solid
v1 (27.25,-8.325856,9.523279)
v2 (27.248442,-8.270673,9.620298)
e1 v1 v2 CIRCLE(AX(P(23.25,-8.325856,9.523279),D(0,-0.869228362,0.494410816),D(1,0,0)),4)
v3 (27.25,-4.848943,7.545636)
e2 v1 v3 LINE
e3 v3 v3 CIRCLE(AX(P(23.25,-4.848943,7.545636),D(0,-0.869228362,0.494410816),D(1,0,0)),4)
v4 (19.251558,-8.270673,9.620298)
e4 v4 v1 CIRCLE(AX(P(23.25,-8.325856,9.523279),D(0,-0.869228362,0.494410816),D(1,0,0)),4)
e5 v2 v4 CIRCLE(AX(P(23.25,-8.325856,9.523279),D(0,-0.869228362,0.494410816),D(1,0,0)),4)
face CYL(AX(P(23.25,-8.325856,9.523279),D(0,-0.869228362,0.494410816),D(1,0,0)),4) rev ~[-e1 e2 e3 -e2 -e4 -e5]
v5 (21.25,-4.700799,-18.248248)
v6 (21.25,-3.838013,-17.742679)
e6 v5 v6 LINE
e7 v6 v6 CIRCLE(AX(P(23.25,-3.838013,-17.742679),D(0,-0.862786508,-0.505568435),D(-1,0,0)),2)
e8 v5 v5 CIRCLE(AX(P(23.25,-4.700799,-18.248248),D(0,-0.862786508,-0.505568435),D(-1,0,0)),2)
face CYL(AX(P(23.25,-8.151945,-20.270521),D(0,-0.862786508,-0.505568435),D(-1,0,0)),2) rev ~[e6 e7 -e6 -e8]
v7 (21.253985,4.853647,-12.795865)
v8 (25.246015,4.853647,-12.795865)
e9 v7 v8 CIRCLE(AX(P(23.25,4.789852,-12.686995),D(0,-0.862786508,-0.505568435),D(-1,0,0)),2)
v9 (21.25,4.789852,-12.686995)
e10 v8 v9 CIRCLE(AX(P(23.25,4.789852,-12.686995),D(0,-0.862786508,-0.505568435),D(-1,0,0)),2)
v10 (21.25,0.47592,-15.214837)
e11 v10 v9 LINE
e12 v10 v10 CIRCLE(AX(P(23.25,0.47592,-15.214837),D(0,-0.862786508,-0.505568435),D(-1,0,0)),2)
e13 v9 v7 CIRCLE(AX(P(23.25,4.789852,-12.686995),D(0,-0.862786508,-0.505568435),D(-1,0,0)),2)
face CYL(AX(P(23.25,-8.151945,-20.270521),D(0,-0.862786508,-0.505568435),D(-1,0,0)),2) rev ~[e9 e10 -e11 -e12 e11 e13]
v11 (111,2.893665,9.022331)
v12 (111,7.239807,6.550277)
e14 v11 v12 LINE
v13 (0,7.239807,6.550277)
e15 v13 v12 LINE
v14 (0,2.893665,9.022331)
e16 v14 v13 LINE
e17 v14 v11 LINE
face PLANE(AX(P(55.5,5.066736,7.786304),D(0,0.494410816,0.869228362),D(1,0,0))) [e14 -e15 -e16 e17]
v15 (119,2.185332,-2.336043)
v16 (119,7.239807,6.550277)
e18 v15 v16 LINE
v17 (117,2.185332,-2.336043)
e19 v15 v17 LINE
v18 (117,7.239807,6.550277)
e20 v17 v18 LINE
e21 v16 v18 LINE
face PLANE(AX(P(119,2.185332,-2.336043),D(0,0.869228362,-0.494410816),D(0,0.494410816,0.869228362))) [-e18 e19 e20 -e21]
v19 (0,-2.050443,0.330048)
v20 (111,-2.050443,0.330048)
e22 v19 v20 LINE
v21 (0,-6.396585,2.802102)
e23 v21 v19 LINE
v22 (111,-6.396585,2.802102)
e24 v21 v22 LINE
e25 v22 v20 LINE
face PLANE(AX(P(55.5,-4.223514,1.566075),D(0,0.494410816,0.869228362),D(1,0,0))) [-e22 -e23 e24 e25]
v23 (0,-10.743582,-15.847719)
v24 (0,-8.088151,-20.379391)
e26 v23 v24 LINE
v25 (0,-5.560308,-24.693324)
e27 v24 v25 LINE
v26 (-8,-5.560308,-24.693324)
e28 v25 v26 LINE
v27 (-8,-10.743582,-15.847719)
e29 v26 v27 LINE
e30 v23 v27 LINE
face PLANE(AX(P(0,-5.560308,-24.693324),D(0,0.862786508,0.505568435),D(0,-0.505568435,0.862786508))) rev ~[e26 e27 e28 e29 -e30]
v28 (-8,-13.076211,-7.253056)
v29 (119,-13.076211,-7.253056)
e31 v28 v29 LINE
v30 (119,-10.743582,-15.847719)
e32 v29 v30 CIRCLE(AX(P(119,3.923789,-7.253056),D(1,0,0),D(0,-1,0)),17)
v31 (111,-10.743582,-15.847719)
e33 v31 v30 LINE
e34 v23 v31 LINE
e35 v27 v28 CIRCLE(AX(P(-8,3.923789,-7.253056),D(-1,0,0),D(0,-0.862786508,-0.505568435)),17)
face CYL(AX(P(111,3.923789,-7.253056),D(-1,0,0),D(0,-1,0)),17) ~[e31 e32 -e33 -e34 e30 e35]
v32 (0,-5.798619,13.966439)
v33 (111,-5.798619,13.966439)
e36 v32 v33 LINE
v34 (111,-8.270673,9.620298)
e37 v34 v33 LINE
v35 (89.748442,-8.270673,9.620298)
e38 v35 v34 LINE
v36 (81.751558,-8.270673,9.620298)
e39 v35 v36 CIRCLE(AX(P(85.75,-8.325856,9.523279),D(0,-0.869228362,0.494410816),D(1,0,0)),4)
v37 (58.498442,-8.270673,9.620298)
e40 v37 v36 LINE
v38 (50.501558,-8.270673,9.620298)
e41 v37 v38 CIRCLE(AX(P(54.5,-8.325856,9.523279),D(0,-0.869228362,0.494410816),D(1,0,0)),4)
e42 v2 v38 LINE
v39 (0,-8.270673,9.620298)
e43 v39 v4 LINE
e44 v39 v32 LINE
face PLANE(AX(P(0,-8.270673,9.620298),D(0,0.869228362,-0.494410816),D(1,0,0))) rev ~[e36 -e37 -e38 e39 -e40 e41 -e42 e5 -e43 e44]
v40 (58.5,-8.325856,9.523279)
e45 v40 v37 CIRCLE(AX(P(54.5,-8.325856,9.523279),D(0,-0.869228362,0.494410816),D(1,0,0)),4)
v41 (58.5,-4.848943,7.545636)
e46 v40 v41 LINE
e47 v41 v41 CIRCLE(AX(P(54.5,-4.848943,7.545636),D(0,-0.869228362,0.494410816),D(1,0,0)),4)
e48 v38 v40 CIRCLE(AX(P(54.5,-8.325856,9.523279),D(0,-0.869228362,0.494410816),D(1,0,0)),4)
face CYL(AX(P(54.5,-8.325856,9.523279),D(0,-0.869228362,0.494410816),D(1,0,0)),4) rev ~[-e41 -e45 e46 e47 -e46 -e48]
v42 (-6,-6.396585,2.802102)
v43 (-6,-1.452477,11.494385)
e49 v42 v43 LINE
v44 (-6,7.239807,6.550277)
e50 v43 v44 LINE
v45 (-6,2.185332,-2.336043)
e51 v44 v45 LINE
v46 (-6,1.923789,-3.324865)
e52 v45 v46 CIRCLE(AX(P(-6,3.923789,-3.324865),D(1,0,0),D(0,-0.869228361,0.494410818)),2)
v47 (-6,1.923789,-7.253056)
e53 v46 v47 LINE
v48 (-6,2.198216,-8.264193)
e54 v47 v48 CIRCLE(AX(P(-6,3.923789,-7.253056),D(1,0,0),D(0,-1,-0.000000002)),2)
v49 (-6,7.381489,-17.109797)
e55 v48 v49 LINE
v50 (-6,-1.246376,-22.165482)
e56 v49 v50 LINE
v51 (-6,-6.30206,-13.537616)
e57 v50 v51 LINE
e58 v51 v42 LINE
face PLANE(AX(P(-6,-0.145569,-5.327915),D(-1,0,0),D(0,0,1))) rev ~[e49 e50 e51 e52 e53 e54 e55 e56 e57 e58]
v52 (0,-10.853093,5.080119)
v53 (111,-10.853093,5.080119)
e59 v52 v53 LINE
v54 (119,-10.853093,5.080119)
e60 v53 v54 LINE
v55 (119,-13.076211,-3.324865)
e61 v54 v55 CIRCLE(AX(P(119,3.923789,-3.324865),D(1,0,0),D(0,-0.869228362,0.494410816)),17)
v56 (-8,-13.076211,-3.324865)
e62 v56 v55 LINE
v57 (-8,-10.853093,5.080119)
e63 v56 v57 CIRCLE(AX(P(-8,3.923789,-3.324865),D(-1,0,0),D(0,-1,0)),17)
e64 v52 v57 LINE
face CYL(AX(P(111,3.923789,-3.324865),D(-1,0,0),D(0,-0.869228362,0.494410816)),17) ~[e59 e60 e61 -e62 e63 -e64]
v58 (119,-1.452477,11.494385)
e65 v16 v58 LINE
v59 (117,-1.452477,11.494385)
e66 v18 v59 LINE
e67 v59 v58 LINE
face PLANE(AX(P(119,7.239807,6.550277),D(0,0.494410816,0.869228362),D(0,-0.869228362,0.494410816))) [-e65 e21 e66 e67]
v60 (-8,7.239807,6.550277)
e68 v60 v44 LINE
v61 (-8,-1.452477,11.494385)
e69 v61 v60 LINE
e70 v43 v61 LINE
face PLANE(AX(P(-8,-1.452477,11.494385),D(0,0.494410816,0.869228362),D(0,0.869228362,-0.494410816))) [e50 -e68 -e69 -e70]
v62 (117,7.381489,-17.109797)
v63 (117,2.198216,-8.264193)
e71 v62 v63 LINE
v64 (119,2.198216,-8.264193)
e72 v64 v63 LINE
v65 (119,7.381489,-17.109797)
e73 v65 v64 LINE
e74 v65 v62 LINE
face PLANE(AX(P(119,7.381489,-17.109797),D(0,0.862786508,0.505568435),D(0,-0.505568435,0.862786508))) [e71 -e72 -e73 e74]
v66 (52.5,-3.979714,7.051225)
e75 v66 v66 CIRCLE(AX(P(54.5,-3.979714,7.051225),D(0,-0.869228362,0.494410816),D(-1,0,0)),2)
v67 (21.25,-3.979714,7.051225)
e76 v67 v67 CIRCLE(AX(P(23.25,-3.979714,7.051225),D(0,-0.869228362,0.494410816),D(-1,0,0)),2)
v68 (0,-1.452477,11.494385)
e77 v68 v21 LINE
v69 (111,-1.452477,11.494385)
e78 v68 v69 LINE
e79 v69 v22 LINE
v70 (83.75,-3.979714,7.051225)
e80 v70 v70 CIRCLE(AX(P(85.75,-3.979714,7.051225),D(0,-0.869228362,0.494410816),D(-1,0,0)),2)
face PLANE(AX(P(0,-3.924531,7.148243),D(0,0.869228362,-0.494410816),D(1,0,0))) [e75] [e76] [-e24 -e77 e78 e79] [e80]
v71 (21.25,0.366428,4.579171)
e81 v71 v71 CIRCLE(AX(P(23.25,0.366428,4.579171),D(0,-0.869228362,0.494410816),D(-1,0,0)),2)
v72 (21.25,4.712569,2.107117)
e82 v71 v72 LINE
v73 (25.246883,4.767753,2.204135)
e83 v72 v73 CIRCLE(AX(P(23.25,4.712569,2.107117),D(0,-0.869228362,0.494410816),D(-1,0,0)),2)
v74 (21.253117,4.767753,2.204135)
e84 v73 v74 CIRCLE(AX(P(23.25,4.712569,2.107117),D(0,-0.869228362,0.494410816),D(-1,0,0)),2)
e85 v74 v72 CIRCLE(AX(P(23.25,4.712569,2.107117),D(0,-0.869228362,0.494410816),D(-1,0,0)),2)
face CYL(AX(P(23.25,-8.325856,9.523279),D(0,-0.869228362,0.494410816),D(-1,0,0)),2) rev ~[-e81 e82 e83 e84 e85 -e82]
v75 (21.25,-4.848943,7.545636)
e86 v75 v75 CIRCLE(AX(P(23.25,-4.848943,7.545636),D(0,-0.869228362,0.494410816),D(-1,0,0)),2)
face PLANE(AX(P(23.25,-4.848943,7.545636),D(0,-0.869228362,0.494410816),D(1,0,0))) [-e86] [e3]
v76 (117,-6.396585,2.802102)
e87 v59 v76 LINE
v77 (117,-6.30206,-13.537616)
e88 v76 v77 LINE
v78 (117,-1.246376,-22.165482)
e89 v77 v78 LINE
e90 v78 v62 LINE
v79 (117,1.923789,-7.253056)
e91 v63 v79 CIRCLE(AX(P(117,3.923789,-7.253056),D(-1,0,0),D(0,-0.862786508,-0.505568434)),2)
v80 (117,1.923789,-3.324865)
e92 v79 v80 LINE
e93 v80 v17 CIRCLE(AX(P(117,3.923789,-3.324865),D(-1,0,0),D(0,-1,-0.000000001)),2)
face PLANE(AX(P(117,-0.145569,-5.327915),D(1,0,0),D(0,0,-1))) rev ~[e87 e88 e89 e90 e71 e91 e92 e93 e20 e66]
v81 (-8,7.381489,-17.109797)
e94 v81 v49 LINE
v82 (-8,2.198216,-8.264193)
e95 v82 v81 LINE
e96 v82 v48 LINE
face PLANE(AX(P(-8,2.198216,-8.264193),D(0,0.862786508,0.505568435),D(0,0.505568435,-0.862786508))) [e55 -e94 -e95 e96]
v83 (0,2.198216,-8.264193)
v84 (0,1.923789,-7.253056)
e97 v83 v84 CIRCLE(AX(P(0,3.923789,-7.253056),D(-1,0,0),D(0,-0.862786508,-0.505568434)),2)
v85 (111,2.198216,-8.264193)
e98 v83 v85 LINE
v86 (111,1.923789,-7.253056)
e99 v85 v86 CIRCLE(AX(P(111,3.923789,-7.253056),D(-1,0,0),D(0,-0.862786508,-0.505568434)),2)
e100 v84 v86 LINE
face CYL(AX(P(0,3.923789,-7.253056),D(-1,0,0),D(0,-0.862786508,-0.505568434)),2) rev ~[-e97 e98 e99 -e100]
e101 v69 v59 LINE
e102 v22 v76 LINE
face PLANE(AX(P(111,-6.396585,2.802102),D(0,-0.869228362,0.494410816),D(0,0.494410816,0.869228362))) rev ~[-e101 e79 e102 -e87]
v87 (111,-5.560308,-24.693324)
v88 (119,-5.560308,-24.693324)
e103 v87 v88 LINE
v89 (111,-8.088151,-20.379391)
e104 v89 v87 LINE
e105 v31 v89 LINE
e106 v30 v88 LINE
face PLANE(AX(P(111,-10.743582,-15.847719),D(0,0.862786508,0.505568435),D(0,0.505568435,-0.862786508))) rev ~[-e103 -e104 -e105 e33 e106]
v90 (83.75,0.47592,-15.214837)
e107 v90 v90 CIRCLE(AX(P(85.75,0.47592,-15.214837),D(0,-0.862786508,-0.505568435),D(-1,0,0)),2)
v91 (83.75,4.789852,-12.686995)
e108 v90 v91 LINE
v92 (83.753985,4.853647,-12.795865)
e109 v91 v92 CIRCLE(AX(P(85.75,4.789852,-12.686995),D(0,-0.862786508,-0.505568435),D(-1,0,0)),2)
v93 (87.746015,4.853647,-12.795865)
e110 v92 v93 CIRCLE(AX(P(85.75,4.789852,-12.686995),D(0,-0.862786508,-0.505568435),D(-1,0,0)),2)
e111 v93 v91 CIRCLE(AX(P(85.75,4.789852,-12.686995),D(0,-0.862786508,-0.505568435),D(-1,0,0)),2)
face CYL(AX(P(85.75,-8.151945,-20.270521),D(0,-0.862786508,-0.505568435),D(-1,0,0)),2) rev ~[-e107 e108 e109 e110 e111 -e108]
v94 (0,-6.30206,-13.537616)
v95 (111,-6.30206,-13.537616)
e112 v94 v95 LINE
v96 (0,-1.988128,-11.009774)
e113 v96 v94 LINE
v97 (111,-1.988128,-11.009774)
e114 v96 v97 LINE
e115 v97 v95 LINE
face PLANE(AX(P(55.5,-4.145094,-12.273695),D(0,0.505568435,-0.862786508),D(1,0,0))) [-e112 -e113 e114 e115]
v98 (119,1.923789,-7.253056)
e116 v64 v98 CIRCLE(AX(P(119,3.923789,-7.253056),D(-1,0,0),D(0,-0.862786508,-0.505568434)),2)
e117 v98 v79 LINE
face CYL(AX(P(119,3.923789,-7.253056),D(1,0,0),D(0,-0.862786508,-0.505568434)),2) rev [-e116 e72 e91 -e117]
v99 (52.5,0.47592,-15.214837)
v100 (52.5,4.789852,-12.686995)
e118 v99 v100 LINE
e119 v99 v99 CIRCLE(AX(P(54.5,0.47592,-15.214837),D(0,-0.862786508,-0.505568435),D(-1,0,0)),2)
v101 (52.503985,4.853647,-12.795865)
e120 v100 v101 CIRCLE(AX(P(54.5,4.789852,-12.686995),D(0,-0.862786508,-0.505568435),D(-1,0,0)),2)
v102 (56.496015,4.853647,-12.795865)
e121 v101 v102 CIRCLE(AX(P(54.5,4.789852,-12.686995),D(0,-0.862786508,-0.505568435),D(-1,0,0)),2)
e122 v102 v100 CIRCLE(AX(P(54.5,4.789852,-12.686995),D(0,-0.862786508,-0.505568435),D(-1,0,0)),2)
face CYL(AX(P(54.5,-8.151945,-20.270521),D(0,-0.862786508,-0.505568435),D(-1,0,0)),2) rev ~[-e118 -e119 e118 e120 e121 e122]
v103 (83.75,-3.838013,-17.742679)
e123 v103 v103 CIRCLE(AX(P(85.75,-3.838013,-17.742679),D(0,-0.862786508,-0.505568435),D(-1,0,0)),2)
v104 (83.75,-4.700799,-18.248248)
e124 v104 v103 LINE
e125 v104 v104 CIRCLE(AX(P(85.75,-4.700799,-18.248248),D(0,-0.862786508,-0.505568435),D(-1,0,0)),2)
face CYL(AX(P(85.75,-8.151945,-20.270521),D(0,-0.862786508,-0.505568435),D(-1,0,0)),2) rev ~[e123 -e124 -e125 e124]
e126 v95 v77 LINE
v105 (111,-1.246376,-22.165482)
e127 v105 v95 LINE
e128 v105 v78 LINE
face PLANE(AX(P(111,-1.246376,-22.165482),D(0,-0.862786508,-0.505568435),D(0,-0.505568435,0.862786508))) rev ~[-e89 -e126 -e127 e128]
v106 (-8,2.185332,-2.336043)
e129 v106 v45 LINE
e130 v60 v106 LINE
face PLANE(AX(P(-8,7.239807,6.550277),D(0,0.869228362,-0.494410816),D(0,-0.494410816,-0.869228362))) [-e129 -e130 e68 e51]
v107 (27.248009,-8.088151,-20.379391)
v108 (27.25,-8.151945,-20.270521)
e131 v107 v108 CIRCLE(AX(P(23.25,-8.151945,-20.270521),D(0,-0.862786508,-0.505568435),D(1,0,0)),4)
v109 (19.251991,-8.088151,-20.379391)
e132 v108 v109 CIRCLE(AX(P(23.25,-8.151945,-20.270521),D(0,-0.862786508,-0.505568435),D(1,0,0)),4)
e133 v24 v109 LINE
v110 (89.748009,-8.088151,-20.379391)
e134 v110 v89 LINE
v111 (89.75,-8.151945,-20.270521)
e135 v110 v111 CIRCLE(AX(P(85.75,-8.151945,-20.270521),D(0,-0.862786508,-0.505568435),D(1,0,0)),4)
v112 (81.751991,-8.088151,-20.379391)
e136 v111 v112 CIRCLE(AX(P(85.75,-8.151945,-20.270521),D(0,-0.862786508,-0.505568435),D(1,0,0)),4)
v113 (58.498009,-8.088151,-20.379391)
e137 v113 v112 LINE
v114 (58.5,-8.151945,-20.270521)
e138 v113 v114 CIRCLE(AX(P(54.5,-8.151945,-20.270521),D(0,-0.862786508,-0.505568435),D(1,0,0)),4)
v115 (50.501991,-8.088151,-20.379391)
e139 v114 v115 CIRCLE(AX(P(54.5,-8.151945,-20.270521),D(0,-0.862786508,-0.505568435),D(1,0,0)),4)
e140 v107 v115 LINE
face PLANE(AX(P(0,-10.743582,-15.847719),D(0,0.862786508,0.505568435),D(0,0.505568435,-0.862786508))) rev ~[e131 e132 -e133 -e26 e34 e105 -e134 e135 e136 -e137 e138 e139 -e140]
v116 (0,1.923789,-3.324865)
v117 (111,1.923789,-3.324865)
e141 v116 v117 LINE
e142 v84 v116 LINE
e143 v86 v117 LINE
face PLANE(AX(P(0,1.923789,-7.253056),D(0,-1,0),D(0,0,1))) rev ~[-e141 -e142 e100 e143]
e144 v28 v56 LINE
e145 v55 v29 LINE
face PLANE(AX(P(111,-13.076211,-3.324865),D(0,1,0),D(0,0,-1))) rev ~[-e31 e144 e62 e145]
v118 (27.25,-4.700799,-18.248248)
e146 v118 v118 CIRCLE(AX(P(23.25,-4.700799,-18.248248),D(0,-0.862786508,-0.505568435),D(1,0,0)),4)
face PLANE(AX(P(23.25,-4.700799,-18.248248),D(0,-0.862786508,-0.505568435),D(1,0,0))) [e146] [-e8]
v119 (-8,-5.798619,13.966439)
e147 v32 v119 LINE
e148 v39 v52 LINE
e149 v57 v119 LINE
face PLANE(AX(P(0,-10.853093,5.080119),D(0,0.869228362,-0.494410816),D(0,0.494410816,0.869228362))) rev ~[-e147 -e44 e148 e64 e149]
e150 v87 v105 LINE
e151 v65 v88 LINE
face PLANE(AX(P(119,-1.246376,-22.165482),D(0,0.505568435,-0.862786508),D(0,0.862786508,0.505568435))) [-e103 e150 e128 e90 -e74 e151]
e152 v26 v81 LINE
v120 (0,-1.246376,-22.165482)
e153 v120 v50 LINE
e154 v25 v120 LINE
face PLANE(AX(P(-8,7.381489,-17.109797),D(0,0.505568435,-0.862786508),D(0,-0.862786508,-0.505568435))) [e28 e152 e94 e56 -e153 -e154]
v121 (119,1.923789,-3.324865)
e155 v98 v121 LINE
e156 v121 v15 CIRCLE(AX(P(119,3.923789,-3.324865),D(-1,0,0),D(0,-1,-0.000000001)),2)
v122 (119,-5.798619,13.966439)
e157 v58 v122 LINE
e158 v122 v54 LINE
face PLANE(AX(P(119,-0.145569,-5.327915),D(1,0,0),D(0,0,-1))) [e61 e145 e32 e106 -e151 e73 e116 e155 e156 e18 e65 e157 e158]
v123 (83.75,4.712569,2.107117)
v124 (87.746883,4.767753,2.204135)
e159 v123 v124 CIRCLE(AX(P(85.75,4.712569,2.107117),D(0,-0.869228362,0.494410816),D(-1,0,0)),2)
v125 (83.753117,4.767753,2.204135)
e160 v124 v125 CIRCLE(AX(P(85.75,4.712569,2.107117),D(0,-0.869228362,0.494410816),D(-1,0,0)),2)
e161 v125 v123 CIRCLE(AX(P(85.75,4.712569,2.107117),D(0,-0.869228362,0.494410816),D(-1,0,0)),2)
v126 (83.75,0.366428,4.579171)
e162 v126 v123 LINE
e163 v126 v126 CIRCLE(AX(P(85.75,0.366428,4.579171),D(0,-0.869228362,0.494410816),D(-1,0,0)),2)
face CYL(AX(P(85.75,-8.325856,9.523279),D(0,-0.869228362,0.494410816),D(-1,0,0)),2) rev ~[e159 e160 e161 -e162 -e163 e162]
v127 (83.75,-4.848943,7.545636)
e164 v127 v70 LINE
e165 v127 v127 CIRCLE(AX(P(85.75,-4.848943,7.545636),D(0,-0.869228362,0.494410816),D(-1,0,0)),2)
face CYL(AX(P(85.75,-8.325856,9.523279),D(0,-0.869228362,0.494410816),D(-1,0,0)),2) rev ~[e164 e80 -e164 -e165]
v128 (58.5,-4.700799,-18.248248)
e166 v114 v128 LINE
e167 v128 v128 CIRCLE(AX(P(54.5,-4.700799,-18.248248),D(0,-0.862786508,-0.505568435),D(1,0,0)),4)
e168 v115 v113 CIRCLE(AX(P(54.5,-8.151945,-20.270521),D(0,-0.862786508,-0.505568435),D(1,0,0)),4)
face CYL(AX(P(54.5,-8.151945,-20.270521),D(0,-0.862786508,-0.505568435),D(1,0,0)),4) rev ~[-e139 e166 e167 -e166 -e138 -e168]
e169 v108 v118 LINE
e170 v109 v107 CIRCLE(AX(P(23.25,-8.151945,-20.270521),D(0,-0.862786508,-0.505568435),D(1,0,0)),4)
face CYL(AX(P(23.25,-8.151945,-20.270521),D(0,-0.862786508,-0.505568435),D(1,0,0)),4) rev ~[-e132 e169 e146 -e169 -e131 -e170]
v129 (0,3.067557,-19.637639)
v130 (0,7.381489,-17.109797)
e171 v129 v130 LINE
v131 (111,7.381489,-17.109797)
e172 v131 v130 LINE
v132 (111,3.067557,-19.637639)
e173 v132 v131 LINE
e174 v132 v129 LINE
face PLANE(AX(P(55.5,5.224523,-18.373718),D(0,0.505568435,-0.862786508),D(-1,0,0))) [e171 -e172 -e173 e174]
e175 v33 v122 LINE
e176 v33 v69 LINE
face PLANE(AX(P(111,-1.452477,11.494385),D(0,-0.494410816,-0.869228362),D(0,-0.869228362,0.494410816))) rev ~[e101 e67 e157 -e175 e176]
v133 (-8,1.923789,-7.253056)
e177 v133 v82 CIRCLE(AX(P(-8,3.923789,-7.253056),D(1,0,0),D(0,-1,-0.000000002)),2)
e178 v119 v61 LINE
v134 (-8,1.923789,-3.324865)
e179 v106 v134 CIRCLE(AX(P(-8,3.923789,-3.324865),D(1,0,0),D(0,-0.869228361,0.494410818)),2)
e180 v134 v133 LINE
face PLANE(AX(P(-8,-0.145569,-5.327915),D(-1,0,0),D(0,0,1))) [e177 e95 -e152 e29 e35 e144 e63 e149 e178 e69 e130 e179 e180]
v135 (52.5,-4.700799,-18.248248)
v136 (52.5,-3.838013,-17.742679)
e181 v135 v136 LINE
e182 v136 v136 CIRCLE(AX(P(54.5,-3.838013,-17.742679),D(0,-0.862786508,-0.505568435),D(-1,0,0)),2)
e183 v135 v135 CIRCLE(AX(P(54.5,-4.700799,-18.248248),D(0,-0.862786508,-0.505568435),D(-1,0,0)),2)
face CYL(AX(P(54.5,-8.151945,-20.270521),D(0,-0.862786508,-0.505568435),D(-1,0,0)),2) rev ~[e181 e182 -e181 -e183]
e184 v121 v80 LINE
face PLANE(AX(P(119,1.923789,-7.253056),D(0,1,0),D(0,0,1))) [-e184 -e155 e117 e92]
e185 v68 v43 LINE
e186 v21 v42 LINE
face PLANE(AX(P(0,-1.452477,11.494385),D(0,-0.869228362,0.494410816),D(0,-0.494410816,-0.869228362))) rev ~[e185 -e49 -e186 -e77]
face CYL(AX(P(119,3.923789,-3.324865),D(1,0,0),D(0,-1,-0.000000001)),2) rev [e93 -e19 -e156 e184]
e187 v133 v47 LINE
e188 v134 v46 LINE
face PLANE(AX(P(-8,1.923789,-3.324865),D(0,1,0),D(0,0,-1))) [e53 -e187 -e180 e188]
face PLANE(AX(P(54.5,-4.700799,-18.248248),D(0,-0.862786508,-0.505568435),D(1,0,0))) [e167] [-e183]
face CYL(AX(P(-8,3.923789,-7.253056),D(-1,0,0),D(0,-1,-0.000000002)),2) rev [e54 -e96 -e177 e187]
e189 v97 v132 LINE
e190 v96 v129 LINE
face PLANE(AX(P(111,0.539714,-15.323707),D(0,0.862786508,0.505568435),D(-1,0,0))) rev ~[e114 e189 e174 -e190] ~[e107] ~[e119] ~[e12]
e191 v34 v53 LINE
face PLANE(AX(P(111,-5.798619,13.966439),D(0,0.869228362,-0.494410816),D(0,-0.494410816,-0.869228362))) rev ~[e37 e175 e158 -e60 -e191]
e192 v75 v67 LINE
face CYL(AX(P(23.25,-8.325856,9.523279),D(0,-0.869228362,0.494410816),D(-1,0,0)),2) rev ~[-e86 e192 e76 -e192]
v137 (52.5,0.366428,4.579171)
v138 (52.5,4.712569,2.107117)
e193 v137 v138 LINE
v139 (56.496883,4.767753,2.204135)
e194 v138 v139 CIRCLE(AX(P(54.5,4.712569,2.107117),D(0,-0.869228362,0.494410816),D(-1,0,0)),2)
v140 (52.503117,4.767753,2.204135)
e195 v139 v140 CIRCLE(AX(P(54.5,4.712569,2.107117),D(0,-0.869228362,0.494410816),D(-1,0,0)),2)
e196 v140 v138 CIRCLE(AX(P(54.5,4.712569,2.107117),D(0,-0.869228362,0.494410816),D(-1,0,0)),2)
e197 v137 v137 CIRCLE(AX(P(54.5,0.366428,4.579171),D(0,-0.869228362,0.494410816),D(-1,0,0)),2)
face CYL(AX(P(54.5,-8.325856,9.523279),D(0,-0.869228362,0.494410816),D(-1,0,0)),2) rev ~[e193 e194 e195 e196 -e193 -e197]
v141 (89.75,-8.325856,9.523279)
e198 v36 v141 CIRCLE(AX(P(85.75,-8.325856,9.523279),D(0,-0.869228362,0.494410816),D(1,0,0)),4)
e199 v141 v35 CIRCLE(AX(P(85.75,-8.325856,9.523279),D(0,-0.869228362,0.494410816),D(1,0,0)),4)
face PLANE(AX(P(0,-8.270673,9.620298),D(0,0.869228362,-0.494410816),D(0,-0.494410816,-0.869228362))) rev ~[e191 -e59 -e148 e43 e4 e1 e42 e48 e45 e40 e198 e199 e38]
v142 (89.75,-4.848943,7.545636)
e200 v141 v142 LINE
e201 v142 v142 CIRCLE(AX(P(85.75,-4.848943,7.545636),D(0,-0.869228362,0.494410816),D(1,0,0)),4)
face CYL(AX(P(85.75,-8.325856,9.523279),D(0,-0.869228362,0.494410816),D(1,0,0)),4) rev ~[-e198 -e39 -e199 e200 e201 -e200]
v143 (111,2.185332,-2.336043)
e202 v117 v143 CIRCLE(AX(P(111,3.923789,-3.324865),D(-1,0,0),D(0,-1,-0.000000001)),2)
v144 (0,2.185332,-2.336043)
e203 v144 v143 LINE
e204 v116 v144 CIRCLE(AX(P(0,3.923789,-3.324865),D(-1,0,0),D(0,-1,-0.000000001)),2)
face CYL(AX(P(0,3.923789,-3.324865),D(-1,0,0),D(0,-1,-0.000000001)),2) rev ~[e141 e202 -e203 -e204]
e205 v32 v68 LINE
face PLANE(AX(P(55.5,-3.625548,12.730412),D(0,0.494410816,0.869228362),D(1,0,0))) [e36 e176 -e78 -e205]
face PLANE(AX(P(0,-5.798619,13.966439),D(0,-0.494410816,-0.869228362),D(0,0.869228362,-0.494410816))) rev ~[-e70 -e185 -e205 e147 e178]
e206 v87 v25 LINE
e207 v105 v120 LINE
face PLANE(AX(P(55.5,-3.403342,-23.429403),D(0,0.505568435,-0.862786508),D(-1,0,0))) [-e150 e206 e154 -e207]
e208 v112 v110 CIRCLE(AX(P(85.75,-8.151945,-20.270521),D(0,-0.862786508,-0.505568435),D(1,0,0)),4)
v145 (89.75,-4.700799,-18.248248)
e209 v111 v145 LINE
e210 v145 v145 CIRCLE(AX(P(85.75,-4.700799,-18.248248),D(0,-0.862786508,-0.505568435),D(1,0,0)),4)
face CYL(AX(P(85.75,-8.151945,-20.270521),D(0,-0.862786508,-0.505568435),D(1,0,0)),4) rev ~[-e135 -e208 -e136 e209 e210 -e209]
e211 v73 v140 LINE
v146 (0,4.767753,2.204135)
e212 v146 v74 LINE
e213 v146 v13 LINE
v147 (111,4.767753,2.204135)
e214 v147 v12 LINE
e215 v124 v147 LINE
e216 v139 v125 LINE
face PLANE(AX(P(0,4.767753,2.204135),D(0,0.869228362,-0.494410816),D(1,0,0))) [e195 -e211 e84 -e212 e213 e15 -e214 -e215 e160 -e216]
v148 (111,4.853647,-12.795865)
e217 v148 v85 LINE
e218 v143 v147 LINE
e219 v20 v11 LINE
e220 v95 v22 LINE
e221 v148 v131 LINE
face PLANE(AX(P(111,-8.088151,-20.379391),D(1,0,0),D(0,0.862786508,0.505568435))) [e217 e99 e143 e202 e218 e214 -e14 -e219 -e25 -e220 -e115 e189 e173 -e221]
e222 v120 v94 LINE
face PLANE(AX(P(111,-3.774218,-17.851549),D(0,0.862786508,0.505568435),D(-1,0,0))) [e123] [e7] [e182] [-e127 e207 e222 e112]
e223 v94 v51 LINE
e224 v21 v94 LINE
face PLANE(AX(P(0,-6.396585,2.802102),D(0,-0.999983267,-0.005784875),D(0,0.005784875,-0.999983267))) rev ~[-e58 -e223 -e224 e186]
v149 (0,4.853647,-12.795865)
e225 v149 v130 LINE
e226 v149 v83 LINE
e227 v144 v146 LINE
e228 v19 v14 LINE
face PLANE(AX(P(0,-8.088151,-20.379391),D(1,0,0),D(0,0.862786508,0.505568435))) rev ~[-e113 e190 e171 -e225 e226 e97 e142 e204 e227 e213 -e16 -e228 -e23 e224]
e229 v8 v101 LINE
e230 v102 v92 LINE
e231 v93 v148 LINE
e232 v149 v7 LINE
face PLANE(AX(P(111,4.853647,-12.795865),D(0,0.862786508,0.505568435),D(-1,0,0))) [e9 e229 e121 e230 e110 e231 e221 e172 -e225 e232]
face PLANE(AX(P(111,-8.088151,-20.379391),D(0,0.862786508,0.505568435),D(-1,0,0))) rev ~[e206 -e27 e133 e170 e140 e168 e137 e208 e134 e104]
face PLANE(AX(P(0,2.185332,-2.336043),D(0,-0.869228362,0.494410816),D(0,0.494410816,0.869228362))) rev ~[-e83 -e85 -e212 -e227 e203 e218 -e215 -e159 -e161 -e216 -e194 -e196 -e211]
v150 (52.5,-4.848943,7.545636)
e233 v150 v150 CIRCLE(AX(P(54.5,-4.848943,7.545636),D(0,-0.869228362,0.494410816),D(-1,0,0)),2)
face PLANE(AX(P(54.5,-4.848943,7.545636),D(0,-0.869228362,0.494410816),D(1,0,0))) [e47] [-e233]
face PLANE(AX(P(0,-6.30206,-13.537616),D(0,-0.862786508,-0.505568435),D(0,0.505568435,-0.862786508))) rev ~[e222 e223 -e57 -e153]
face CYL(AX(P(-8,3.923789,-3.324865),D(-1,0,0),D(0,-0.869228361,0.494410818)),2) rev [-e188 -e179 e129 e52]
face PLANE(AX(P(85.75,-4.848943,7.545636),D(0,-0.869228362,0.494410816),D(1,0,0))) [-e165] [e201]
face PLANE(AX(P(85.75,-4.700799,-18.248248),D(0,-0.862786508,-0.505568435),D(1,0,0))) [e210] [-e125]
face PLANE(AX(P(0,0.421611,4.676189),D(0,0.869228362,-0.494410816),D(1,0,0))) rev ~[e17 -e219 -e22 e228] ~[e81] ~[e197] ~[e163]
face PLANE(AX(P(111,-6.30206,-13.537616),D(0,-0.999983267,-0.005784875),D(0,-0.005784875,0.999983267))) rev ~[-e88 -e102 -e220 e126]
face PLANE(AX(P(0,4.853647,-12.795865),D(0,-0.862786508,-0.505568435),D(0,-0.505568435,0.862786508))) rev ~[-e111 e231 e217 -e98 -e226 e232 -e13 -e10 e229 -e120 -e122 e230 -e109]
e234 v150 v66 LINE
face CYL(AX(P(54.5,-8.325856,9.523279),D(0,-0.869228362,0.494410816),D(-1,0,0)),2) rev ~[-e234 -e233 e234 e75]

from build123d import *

# Parameters (mm, degrees)
SALIENTE_EXTRUIR1_DEPTH = 111
CROQUIS2_W              = 111
CROQUIS2_H              = 5
CORTAR_EXTRUIR1_DEPTH   = 5
CROQUIS3_W              = 111
CROQUIS3_H              = 5
CORTAR_EXTRUIR2_DEPTH   = 5
CROQUIS8_W              = 111
CROQUIS8_H              = 5
SALIENTE_EXTRUIR6_DEPTH = 5
CROQUIS9_W              = 111
CROQUIS9_H              = 5
SALIENTE_EXTRUIR7_DEPTH = 5
CROQUIS10_W             = 111
CROQUIS10_H             = 5
SALIENTE_EXTRUIR8_DEPTH = 5
CROQUIS11_W             = 111
CROQUIS11_H             = 5
SALIENTE_EXTRUIR9_DEPTH = 5
SALIENTE_EXTRUIR2_DEPTH = 8
SALIENTE_EXTRUIR3_DEPTH = 2
SALIENTE_EXTRUIR4_DEPTH = 8
SALIENTE_EXTRUIR5_DEPTH = 2
CROQUIS12_R             = 2
CORTAR_EXTRUIR3_DEPTH   = 16
CROQUIS13_R             = 4
CORTAR_EXTRUIR4_DEPTH   = 4
CROQUIS14_R             = 2
CORTAR_EXTRUIR5_DEPTH   = 16
CROQUIS15_R             = 4
CORTAR_EXTRUIR6_DEPTH   = 4


with BuildPart() as part:
    # Croquis1 → Saliente-Extruir1 (new body)
    with BuildSketch(Plane(origin=(0, 0, 0), x_dir=(0, 0, -1), z_dir=(1, 0, 0))):
        with BuildLine():
            Line((2.336042938, 2.185332004), (-2.204135338, 4.767752626))
            Line((-2.204135338, 4.767752626), (-7.148243501, -3.924530991))
            Line((-7.148243501, -3.924530991), (-2.608065225, -6.506951614))
            ThreePointArc((-2.608065225, -6.506951614), (0.256386453, -7.677264762), (3.32486457, -8.076211273))
            Line((3.32486457, -8.076211273), (7.253055883, -8.076211273))
            ThreePointArc((7.253055883, -8.076211273), (10.396202626, -7.657257363), (13.3198771, -6.429649364))
            Line((13.3198771, -6.429649364), (17.85154901, -3.774218091))
            Line((17.85154901, -3.774218091), (12.795864662, 4.853646985))
            Line((12.795864662, 4.853646985), (8.264192752, 2.198215712))
            ThreePointArc((8.264192752, 2.198215712), (7.776913673, 1.993614379), (7.253055883, 1.923788727))
            Line((7.253055883, 1.923788727), (3.32486457, 1.923788727))
            ThreePointArc((3.32486457, 1.923788727), (2.813451551, 1.990279812), (2.336042938, 2.185332004))
        make_face()
        with BuildLine():
            Line((-2.608065225, -6.506951614), (-7.148243501, -3.924530991))
            Line((-7.148243501, -3.924530991), (-9.620297582, -8.270672799))
            Line((-9.620297582, -8.270672799), (-5.080119306, -10.853093422))
            ThreePointArc((-5.080119306, -10.853093422), (-1.022146096, -12.511037048), (3.32486457, -13.076211273))
            Line((3.32486457, -13.076211273), (7.253055883, -13.076211273))
            ThreePointArc((7.253055883, -13.076211273), (11.705847103, -12.482693234), (15.847719275, -10.743581902))
            Line((15.847719275, -10.743581902), (20.379391184, -8.088150629))
            Line((20.379391184, -8.088150629), (17.85154901, -3.774218091))
            Line((17.85154901, -3.774218091), (13.3198771, -6.429649364))
            ThreePointArc((13.3198771, -6.429649364), (10.396202626, -7.657257363), (7.253055883, -8.076211273))
            Line((7.253055883, -8.076211273), (3.32486457, -8.076211273))
            ThreePointArc((3.32486457, -8.076211273), (0.256386453, -7.677264762), (-2.608065225, -6.506951614))
        make_face()
    extrude(amount=SALIENTE_EXTRUIR1_DEPTH)

    # Croquis2 → Cortar-Extruir1 (cut)
    with BuildSketch(Plane(origin=(0, 6.822115228, -11.642398074), x_dir=(1, 0, 0), z_dir=(0, 0.505568435, -0.862786508))):
        with Locations((55.5, 9.781524138)):
            Rectangle(CROQUIS2_W, CROQUIS2_H)
    extrude(amount=-CORTAR_EXTRUIR1_DEPTH, mode=Mode.SUBTRACT)

    # Croquis3 → Cortar-Extruir2 (cut)
    with BuildSketch(Plane(origin=(0, 2.112679425, 3.714321805), x_dir=(1, 0, 0), z_dir=(0, 0.494410816, 0.869228362))):
        with Locations((55.5, -4.445482547)):
            Rectangle(CROQUIS3_W, CROQUIS3_H)
    extrude(amount=-CORTAR_EXTRUIR2_DEPTH, mode=Mode.SUBTRACT)

    # Croquis8 → Saliente-Extruir6 (add)
    with BuildSketch(Plane(origin=(0, 2.112679425, 3.714321805), x_dir=(1, 0, 0), z_dir=(0, 0.494410816, 0.869228362))):
        with Locations((55.5, 0.554517453)):
            Rectangle(CROQUIS8_W, CROQUIS8_H)
    extrude(amount=SALIENTE_EXTRUIR6_DEPTH)

    # Croquis9 → Saliente-Extruir7 (add)
    with BuildSketch(Plane(origin=(0, 2.112679425, 3.714321805), x_dir=(1, 0, 0), z_dir=(0, 0.494410816, 0.869228362))):
        with Locations((55.5, -9.445482547)):
            Rectangle(CROQUIS9_W, CROQUIS9_H)
    extrude(amount=SALIENTE_EXTRUIR7_DEPTH)

    # Croquis10 → Saliente-Extruir8 (add)
    with BuildSketch(Plane(origin=(0, 6.822115228, -11.642398074), x_dir=(-1, 0, 0), z_dir=(0, 0.505568435, -0.862786508))):
        with Locations((-55.5, -4.781524138)):
            Rectangle(CROQUIS10_W, CROQUIS10_H)
    extrude(amount=SALIENTE_EXTRUIR8_DEPTH)

    # Croquis11 → Saliente-Extruir9 (add)
    with BuildSketch(Plane(origin=(0, 6.822115228, -11.642398074), x_dir=(-1, 0, 0), z_dir=(0, 0.505568435, -0.862786508))):
        with Locations((-55.5, -14.781524138)):
            Rectangle(CROQUIS11_W, CROQUIS11_H)
    extrude(amount=SALIENTE_EXTRUIR9_DEPTH)

    # Croquis4 → Saliente-Extruir2 (add)
    with BuildSketch(Plane.ZY):
        with BuildLine():
            Line((2.802101692, -6.396585072), (-13.537616472, -6.302060265))
            Line((-13.537616472, -6.302060265), (-22.165481548, -1.246375917))
            Line((-22.165481548, -1.246375917), (-24.693323722, -5.560308455))
            Line((-24.693323722, -5.560308455), (-15.847719275, -10.743581902))
            ThreePointArc((-15.847719275, -10.743581902), (-11.705847103, -12.482693234), (-7.253055883, -13.076211273))
            Line((-7.253055883, -13.076211273), (-3.32486457, -13.076211273))
            ThreePointArc((-3.32486457, -13.076211273), (1.022146096, -12.511037048), (5.080119306, -10.853093422))
            Line((5.080119306, -10.853093422), (13.96643939, -5.798618718))
            Line((13.96643939, -5.798618718), (11.494385309, -1.452476909))
            Line((11.494385309, -1.452476909), (2.802101692, -6.396585072))
        make_face()
    extrude(amount=SALIENTE_EXTRUIR2_DEPTH)

    # Croquis5 → Saliente-Extruir3 (add)
    with BuildSketch(Plane.ZY.offset(8)):
        with BuildLine():
            Line((-8.264192752, 2.198215712), (-17.1097972, 7.381489159))
            Line((-17.1097972, 7.381489159), (-22.165481548, -1.246375917))
            Line((-22.165481548, -1.246375917), (-13.537616472, -6.302060265))
            Line((-13.537616472, -6.302060265), (2.802101692, -6.396585072))
            Line((2.802101692, -6.396585072), (11.494385309, -1.452476909))
            Line((11.494385309, -1.452476909), (6.550277147, 7.239806708))
            Line((6.550277147, 7.239806708), (-2.336042938, 2.185332004))
            ThreePointArc((-2.336042938, 2.185332004), (-2.813451551, 1.990279812), (-3.32486457, 1.923788727))
            Line((-3.32486457, 1.923788727), (-7.253055883, 1.923788727))
            ThreePointArc((-7.253055883, 1.923788727), (-7.776913673, 1.993614379), (-8.264192752, 2.198215712))
        make_face()
    extrude(amount=-SALIENTE_EXTRUIR3_DEPTH)

    # Croquis6 → Saliente-Extruir4 (add)
    with BuildSketch(Plane(origin=(111, 0, 0), x_dir=(0, 0, -1), z_dir=(1, 0, 0))):
        with BuildLine():
            Line((13.537616472, -6.302060265), (-2.802101692, -6.396585072))
            Line((-2.802101692, -6.396585072), (-11.494385309, -1.452476909))
            Line((-11.494385309, -1.452476909), (-13.96643939, -5.798618718))
            Line((-13.96643939, -5.798618718), (-5.080119306, -10.853093422))
            ThreePointArc((-5.080119306, -10.853093422), (-1.022146096, -12.511037048), (3.32486457, -13.076211273))
            Line((3.32486457, -13.076211273), (7.253055883, -13.076211273))
            ThreePointArc((7.253055883, -13.076211273), (11.705847103, -12.482693234), (15.847719275, -10.743581902))
            Line((15.847719275, -10.743581902), (24.693323722, -5.560308455))
            Line((24.693323722, -5.560308455), (22.165481548, -1.246375917))
            Line((22.165481548, -1.246375917), (13.537616472, -6.302060265))
        make_face()
    extrude(amount=SALIENTE_EXTRUIR4_DEPTH)

    # Croquis7 → Saliente-Extruir5 (add)
    with BuildSketch(Plane(origin=(119, 0, 0), x_dir=(0, 0, -1), z_dir=(1, 0, 0))):
        with BuildLine():
            Line((22.165481548, -1.246375917), (17.1097972, 7.381489159))
            Line((17.1097972, 7.381489159), (8.264192752, 2.198215712))
            ThreePointArc((8.264192752, 2.198215712), (7.776913673, 1.993614379), (7.253055883, 1.923788727))
            Line((7.253055883, 1.923788727), (3.32486457, 1.923788727))
            ThreePointArc((3.32486457, 1.923788727), (2.813451551, 1.990279812), (2.336042938, 2.185332004))
            Line((2.336042938, 2.185332004), (-6.550277147, 7.239806708))
            Line((-6.550277147, 7.239806708), (-11.494385309, -1.452476909))
            Line((-11.494385309, -1.452476909), (-2.802101692, -6.396585072))
            Line((-2.802101692, -6.396585072), (13.537616472, -6.302060265))
            Line((13.537616472, -6.302060265), (22.165481548, -1.246375917))
        make_face()
    extrude(amount=-SALIENTE_EXTRUIR5_DEPTH)

    # Croquis12 → Cortar-Extruir3 (cut)
    with BuildSketch(Plane(origin=(0, -10.383352224, 5.905975776), x_dir=(-1, 0, 0), z_dir=(0, -0.869228362, 0.494410816))):
        with Locations((-23.25, -4.16151121)):
            Circle(CROQUIS12_R)
        with Locations((-54.5, -4.16151121)):
            Circle(CROQUIS12_R)
        with Locations((-85.75, -4.16151121)):
            Circle(CROQUIS12_R)
    extrude(amount=-CORTAR_EXTRUIR3_DEPTH, mode=Mode.SUBTRACT)

    # Croquis13 → Cortar-Extruir4 (cut)
    with BuildSketch(Plane(origin=(0, -10.383352224, 5.905975776), x_dir=(1, 0, 0), z_dir=(0, -0.869228362, 0.494410816))):
        with Locations((23.25, 4.16151121)):
            Circle(CROQUIS13_R)
        with Locations((54.5, 4.16151121)):
            Circle(CROQUIS13_R)
        with Locations((85.75, 4.16151121)):
            Circle(CROQUIS13_R)
    extrude(amount=-CORTAR_EXTRUIR4_DEPTH, mode=Mode.SUBTRACT)

    # Croquis14 → Cortar-Extruir5 (cut)
    with BuildSketch(Plane(origin=(0, -14.910265857, -8.73699311), x_dir=(-1, 0, 0), z_dir=(0, -0.862786508, -0.505568435))):
        with Locations((-23.25, 13.367766286)):
            Circle(CROQUIS14_R)
        with Locations((-54.5, 13.367766286)):
            Circle(CROQUIS14_R)
        with Locations((-85.75, 13.367766286)):
            Circle(CROQUIS14_R)
    extrude(amount=-CORTAR_EXTRUIR5_DEPTH, mode=Mode.SUBTRACT)

    # Croquis15 → Cortar-Extruir6 (cut)
    with BuildSketch(Plane(origin=(0, -14.910265857, -8.73699311), x_dir=(1, 0, 0), z_dir=(0, -0.862786508, -0.505568435))):
        with Locations((23.25, -13.367766286)):
            Circle(CROQUIS15_R)
        with Locations((54.5, -13.367766286)):
            Circle(CROQUIS15_R)
        with Locations((85.75, -13.367766286)):
            Circle(CROQUIS15_R)
    extrude(amount=-CORTAR_EXTRUIR6_DEPTH, mode=Mode.SUBTRACT)


solid = part.part
